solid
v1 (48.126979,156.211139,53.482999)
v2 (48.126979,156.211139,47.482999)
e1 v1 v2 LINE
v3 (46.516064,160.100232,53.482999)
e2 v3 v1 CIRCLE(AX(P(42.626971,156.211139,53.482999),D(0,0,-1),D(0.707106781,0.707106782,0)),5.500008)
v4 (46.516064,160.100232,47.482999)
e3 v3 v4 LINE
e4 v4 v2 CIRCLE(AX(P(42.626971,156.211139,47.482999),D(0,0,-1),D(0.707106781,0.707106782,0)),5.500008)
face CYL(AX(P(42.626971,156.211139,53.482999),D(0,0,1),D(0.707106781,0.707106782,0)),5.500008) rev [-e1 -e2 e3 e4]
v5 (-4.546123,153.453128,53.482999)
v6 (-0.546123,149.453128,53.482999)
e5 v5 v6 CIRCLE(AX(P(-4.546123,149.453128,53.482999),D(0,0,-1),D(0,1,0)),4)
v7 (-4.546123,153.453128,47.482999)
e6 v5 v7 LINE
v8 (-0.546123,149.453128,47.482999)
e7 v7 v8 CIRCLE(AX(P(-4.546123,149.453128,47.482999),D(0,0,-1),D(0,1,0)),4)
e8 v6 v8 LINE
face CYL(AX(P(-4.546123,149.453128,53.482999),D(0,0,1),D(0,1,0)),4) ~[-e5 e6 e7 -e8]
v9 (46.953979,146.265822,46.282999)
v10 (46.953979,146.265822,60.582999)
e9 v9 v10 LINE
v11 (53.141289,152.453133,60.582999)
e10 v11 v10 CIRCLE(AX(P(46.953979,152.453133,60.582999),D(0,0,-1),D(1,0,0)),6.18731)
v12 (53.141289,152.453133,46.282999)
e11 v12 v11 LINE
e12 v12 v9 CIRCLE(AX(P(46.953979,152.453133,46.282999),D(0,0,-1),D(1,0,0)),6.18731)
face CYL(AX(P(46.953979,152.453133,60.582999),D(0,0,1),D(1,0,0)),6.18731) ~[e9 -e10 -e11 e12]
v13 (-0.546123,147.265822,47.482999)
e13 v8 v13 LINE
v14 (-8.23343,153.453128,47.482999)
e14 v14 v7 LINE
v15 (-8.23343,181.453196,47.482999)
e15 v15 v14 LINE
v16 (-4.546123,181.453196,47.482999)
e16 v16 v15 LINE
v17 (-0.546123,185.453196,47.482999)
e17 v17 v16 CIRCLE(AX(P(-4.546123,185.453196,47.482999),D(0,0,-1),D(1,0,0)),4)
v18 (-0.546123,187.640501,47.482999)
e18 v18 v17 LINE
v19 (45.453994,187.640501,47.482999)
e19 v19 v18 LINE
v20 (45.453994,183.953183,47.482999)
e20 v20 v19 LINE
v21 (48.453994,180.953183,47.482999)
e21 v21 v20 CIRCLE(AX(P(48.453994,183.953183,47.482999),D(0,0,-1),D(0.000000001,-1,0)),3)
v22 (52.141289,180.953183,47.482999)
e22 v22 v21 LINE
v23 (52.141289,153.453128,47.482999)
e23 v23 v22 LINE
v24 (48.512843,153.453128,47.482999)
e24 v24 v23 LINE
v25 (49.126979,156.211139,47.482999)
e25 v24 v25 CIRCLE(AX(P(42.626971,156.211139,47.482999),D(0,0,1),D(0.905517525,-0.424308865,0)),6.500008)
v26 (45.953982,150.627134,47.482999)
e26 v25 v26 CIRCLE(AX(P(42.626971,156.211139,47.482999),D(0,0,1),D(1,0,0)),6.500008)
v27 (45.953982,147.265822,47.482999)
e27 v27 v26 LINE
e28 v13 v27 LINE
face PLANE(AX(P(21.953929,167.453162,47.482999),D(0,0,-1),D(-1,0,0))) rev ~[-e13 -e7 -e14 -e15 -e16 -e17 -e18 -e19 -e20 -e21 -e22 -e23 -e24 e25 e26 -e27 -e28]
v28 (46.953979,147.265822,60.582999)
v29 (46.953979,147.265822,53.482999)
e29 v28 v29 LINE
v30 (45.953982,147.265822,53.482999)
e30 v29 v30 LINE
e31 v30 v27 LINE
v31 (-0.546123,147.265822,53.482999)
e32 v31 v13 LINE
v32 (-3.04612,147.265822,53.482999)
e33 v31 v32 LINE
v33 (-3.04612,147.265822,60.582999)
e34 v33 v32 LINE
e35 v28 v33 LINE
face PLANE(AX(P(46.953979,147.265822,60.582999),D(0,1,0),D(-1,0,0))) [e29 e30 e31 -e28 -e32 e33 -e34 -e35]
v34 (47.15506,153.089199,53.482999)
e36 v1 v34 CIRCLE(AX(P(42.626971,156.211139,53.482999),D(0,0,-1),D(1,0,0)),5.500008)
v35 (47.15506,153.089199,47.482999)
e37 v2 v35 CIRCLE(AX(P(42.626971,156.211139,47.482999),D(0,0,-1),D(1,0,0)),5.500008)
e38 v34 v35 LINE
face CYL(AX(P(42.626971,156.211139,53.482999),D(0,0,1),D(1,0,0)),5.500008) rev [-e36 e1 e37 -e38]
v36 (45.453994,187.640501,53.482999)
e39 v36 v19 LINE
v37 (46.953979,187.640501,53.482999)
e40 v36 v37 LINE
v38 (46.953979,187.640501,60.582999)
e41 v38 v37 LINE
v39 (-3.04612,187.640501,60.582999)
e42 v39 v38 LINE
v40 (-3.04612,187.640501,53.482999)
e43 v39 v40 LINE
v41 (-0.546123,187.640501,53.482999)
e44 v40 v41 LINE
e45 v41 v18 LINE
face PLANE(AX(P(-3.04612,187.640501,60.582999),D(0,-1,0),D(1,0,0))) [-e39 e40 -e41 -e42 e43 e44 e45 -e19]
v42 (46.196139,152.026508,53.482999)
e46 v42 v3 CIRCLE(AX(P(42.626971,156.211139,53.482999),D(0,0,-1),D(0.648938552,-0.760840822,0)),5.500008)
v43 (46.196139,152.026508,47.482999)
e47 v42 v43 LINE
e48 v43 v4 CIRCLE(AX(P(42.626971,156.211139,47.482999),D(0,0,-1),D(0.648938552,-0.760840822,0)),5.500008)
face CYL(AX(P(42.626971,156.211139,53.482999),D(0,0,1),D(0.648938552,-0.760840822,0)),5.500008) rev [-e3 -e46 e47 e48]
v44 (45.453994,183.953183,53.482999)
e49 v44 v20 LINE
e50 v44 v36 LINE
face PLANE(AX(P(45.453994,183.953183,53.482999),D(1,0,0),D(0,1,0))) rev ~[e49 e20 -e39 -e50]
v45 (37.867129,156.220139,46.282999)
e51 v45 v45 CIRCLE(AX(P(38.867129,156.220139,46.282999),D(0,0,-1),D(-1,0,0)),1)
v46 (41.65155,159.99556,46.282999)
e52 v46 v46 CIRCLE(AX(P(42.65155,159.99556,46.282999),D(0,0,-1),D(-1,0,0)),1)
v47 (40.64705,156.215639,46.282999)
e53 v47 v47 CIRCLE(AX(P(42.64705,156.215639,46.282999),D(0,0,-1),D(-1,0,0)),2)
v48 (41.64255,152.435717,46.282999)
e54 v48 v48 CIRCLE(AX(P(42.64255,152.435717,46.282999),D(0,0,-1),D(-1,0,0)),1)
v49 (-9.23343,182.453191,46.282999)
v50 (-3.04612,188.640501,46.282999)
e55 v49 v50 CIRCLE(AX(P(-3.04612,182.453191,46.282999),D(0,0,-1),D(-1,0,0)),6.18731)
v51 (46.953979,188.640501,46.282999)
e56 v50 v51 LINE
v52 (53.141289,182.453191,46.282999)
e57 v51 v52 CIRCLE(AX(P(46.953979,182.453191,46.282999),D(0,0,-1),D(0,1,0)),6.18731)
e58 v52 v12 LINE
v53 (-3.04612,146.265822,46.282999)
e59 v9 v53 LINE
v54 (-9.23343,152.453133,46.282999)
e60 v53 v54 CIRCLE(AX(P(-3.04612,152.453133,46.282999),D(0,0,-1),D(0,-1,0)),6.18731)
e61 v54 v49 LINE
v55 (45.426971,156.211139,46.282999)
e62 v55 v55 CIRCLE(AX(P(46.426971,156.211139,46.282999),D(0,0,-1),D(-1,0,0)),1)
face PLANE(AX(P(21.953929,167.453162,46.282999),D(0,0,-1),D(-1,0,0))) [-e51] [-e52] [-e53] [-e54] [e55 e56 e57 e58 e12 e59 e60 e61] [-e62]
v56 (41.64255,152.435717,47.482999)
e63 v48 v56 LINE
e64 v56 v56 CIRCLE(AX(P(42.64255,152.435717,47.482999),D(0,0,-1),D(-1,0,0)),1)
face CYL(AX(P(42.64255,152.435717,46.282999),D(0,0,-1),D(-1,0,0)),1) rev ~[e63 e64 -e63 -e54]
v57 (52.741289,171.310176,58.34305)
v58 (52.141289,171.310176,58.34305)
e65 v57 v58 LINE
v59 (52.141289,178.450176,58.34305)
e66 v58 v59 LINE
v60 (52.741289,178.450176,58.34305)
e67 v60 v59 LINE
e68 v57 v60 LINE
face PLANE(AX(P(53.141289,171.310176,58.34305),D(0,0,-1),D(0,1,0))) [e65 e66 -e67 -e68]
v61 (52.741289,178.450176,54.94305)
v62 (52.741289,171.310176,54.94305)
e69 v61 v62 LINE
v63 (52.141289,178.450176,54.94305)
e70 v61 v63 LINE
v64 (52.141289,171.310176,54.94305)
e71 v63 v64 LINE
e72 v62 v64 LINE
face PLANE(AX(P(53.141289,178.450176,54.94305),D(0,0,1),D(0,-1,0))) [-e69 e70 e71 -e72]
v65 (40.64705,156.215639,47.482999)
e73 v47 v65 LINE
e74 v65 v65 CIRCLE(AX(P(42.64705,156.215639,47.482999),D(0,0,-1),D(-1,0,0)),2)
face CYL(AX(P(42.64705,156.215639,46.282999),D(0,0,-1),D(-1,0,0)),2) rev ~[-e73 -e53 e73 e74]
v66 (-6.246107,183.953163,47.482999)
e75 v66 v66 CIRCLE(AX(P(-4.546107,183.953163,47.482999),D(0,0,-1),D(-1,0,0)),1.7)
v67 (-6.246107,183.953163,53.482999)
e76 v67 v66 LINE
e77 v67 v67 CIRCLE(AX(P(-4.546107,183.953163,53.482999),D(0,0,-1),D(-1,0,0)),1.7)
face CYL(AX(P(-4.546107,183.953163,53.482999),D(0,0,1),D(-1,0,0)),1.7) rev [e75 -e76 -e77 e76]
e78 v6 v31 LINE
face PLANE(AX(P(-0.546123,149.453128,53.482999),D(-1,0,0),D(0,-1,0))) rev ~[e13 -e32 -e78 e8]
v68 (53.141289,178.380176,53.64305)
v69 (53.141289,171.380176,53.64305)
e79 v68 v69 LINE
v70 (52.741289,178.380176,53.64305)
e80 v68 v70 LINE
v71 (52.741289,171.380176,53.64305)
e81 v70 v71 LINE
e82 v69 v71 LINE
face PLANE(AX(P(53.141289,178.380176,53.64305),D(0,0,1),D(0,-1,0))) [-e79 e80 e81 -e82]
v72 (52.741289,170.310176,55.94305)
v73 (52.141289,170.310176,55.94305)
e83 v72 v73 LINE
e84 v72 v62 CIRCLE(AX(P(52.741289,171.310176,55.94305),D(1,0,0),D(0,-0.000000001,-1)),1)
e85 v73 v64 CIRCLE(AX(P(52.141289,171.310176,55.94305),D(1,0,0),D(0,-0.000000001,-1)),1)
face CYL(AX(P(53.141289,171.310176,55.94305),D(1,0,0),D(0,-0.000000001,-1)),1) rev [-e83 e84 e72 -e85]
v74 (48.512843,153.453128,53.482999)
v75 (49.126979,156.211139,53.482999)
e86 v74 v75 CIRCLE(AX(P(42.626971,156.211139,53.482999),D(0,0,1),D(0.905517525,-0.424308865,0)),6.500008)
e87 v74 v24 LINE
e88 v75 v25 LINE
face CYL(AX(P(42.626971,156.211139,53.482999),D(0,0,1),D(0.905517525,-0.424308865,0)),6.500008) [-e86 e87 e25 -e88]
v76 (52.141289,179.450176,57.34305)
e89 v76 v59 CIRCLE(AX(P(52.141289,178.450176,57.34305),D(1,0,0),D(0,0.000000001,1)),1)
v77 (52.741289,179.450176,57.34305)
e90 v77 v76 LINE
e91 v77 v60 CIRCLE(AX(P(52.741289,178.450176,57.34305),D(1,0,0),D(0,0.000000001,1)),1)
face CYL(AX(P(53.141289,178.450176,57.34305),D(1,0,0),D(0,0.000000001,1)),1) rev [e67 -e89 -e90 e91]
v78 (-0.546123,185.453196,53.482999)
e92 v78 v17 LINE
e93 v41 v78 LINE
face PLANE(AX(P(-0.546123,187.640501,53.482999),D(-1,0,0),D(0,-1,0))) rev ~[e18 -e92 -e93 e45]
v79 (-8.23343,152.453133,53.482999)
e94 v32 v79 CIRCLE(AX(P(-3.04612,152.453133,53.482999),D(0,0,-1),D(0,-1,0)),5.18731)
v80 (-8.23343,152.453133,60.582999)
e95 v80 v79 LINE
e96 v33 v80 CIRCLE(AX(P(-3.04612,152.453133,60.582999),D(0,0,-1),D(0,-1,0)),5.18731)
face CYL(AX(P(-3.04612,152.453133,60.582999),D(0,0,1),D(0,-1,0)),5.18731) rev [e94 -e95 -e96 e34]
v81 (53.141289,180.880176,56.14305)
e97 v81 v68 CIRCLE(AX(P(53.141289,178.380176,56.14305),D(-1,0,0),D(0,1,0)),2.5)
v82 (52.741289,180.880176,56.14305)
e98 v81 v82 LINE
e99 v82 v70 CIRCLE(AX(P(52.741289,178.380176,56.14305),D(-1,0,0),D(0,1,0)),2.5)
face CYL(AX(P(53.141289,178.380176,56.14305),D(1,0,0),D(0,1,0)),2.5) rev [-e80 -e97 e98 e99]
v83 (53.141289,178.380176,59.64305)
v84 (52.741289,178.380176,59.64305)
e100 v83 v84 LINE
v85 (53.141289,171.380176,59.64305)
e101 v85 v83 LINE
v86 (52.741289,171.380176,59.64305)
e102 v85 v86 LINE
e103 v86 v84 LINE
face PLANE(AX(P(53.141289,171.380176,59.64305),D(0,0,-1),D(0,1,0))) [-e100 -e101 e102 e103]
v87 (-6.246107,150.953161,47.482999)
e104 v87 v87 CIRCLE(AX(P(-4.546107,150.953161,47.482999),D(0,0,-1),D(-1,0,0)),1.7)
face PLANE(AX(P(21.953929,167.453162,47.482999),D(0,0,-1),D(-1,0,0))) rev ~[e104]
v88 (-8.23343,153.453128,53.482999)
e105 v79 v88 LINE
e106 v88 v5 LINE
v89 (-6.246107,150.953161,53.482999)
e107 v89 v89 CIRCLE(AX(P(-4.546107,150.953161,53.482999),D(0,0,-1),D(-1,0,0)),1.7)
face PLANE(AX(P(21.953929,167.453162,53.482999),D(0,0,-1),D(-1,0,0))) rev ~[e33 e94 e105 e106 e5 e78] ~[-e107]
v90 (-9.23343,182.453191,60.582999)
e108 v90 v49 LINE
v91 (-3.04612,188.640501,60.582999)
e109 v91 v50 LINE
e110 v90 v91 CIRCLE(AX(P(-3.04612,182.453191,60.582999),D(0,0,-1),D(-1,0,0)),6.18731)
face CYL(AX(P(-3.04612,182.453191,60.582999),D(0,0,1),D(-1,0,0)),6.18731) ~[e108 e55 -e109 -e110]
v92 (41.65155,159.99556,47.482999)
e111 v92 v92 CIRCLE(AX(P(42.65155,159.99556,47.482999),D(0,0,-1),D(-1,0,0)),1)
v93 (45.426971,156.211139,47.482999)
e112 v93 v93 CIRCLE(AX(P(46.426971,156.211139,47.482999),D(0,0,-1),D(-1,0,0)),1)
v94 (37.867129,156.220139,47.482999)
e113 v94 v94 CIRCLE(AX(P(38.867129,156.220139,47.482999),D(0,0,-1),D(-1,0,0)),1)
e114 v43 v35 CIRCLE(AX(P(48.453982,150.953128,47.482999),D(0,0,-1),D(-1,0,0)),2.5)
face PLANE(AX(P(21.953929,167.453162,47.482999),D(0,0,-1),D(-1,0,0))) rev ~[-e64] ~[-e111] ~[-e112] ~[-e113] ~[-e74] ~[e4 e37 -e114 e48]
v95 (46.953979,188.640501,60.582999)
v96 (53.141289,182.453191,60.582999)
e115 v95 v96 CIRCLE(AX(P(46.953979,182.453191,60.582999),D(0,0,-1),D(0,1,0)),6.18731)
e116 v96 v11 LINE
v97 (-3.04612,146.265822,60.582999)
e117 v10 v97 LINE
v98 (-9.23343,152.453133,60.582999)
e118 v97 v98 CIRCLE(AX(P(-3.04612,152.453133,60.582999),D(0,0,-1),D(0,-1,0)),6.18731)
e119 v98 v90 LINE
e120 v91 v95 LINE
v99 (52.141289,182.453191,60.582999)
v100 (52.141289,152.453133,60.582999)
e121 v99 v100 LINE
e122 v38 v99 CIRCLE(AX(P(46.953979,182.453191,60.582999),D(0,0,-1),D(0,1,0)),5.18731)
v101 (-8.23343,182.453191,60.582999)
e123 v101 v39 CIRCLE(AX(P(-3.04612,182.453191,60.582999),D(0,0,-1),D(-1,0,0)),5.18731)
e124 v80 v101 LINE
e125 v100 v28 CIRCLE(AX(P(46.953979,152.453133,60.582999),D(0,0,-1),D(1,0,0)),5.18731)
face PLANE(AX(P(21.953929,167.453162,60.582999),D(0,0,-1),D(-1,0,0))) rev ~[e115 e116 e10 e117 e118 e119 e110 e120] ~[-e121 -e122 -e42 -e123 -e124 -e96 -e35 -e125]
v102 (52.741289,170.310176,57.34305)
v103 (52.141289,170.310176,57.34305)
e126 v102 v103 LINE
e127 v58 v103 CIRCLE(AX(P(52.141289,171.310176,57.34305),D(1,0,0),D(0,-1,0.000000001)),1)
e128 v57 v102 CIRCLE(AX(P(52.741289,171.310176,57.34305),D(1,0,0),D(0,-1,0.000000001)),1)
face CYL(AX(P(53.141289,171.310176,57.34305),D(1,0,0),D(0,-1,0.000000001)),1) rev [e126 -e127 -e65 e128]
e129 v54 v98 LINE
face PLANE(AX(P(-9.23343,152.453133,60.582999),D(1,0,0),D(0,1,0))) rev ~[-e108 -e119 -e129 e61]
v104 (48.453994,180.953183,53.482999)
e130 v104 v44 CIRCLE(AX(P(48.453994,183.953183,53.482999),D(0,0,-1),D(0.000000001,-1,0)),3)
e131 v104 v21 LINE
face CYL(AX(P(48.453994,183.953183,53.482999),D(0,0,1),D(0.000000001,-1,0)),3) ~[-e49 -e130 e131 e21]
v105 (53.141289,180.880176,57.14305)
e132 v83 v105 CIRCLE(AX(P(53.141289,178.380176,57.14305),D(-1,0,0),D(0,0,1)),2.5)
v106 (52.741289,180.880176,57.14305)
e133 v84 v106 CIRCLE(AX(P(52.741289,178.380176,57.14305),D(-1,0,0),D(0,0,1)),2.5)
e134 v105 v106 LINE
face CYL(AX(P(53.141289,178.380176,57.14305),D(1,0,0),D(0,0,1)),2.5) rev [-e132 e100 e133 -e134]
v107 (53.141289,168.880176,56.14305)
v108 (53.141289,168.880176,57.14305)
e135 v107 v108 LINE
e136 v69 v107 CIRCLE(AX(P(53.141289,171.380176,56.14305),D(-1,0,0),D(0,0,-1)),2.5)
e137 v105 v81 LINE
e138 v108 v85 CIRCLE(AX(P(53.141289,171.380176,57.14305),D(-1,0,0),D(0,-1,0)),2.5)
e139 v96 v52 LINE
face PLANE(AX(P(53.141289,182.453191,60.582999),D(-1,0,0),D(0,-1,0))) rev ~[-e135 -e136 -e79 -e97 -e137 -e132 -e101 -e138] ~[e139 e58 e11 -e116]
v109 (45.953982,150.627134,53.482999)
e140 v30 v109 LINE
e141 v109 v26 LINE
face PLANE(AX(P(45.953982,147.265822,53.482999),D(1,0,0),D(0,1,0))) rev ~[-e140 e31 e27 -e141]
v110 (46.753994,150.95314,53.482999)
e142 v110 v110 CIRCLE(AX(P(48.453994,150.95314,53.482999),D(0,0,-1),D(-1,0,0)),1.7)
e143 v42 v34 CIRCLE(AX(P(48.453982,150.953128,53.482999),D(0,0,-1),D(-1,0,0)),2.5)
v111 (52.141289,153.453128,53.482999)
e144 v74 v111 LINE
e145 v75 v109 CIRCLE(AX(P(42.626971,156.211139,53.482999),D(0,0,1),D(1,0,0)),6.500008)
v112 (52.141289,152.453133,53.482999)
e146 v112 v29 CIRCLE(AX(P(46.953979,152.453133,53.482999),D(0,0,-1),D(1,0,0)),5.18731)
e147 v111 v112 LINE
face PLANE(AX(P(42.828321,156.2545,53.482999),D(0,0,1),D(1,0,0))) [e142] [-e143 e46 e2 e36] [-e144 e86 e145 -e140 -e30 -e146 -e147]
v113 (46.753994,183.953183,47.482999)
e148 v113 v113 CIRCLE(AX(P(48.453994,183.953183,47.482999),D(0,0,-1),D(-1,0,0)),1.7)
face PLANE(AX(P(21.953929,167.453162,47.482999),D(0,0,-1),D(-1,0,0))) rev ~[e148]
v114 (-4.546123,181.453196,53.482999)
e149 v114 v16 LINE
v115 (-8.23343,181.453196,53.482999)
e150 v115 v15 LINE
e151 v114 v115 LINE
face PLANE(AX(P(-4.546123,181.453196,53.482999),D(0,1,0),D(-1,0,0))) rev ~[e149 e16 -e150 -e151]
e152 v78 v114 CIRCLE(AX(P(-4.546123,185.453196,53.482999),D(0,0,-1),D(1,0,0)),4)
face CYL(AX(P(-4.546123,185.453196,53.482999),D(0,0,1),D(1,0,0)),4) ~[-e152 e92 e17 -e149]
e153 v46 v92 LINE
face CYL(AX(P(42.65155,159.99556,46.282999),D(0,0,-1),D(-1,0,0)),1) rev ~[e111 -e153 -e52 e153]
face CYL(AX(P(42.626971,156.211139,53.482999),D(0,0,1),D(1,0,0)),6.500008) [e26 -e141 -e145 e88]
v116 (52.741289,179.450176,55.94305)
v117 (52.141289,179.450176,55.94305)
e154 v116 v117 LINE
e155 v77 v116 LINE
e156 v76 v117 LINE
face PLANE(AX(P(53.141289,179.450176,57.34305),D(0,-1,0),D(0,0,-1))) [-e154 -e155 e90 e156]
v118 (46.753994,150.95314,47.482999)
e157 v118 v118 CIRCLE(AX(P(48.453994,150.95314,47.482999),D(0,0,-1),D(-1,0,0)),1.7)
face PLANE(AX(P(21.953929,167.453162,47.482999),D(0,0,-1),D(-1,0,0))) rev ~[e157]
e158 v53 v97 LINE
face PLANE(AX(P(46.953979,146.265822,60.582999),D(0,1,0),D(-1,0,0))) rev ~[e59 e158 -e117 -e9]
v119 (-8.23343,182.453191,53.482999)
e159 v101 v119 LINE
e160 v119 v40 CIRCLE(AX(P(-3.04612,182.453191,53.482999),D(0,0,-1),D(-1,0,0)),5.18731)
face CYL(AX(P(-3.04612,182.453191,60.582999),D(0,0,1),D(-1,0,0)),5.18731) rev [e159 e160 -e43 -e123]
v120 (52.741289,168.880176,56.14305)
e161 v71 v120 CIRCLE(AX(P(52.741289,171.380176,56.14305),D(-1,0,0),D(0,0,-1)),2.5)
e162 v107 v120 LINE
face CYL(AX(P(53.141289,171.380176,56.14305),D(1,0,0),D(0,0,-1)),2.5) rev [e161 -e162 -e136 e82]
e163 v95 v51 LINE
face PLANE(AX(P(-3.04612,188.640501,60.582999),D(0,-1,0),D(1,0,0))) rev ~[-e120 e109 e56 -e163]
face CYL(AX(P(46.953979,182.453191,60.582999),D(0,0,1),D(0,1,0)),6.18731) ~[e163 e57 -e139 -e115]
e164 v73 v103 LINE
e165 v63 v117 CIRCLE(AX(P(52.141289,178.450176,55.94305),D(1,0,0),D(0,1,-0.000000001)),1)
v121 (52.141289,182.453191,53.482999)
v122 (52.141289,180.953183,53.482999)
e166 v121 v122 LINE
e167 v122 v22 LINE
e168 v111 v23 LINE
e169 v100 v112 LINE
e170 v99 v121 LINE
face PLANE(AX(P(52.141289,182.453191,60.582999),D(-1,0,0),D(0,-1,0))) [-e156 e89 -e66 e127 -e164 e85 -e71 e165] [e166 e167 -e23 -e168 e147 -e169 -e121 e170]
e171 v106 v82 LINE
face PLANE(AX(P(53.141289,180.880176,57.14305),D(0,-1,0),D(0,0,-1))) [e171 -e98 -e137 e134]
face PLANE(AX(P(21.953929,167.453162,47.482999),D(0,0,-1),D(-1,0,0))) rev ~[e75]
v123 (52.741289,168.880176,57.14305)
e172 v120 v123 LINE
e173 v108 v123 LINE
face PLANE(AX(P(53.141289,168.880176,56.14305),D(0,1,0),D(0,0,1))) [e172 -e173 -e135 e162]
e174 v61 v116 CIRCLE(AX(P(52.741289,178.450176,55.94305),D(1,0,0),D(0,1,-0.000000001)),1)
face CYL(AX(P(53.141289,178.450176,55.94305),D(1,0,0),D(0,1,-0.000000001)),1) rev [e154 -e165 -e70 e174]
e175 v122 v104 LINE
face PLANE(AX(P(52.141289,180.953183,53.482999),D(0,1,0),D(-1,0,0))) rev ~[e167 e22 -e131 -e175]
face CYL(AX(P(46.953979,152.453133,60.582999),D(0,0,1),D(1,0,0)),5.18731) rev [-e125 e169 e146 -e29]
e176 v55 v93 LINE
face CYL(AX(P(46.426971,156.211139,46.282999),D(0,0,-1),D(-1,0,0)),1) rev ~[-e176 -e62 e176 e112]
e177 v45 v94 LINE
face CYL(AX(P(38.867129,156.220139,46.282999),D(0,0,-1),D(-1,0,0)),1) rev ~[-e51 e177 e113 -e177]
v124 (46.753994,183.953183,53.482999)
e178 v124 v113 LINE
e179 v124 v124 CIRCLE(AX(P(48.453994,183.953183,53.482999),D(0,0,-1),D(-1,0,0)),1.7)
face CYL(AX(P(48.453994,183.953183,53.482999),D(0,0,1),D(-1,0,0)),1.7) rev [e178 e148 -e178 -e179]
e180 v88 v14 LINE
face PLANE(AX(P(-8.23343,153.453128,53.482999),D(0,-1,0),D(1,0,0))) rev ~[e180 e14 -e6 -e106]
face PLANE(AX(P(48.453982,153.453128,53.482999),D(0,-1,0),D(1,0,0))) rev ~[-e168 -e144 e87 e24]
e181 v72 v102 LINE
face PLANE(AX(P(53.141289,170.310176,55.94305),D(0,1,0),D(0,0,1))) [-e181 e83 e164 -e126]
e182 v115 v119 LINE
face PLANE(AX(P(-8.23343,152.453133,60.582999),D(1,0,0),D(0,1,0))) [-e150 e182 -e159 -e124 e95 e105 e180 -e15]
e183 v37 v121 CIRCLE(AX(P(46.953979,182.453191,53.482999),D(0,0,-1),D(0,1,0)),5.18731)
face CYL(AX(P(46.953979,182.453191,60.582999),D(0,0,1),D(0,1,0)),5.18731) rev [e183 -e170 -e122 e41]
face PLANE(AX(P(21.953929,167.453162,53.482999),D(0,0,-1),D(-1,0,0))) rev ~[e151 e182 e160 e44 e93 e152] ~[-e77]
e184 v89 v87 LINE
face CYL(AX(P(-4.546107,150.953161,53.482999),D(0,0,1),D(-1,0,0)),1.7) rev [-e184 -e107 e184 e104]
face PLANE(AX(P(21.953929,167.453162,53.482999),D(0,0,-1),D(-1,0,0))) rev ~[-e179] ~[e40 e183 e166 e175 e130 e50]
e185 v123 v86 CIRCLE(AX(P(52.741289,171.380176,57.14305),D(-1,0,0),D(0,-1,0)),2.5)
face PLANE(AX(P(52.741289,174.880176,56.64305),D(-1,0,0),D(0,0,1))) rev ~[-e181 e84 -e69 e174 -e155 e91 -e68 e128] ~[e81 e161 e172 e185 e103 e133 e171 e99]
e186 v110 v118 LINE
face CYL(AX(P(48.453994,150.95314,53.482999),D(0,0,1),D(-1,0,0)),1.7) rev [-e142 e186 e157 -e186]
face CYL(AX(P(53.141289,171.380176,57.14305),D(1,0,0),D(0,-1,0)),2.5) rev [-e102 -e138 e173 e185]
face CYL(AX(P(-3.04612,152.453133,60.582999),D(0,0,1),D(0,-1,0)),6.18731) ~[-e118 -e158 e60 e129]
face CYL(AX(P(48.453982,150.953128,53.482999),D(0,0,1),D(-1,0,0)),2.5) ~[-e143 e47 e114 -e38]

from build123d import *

# Parameters (mm, degrees)
SKETCH_10_R         = 1.7
EXTRUDE_5_DEPTH     = 6
EXTRUDE_6_DEPTH     = 1.2
EXTRUDE_START       = -7.1
EXTRUDE_7_DEPTH     = 7.1
CUT_EXTRUDE_3_REACH = 209.716
CUT_EXTRUDE_4_DEPTH = 0.4
EXTRUDE_START_2     = 6
EXTRUDE_8_DEPTH     = 6
SKETCH_15_R         = 2
SKETCH_15_R_2       = 1
CUT_EXTRUDE_5_DEPTH = 1.2


with BuildPart() as part:
    # 草图10 → 凸台-拉伸5 (new body)
    with BuildSketch(Plane(origin=(0, 0, 53.48299881), x_dir=(-1, 0, 0), z_dir=(0, 0, -1))):
        with BuildLine():
            ThreePointArc((9.233430205, 182.453191023), (7.421209024, 186.828279976), (3.04612007, 188.640501158))
            Line((3.04612007, 188.640501158), (-46.95397899, 188.640501158))
            ThreePointArc((-46.95397899, 188.640501158), (-51.329067943, 186.828279976), (-53.141289124, 182.453191023))
            Line((-53.141289124, 182.453191023), (-53.141289124, 152.453132603))
            ThreePointArc((-53.141289124, 152.453132603), (-51.329067943, 148.078043649), (-46.95397899, 146.265822468))
            Line((-46.95397899, 146.265822468), (3.04612007, 146.265822468))
            ThreePointArc((3.04612007, 146.265822468), (7.421209024, 148.078043649), (9.233430205, 152.453132603))
            Line((9.233430205, 152.453132603), (9.233430205, 182.453191023))
        make_face()
        with BuildLine():
            ThreePointArc((0.54612261, 185.453196103), (1.717695486, 182.624768978), (4.54612261, 181.453196103))
            Line((4.54612261, 181.453196103), (8.233430205, 181.453196103))
            Line((8.233430205, 181.453196103), (8.233430205, 153.453127523))
            Line((8.233430205, 153.453127523), (4.54612261, 153.453127523))
            ThreePointArc((4.54612261, 153.453127523), (1.717695486, 152.281554648), (0.54612261, 149.453127523))
            Line((0.54612261, 149.453127523), (0.54612261, 147.265822468))
            Line((0.54612261, 147.265822468), (-45.95398153, 147.265822468))
            Line((-45.95398153, 147.265822468), (-45.95398153, 150.953127523))
            ThreePointArc((-45.95398153, 150.953127523), (-46.686214577, 152.720894476), (-48.45398153, 153.453127523))
            Line((-48.45398153, 153.453127523), (-52.141289124, 153.453127523))
            Line((-52.141289124, 153.453127523), (-52.141289124, 180.953183403))
            Line((-52.141289124, 180.953183403), (-48.45399423, 180.953183403))
            ThreePointArc((-48.45399423, 180.953183403), (-46.332673886, 181.831863059), (-45.45399423, 183.953183403))
            Line((-45.45399423, 183.953183403), (-45.45399423, 187.640501158))
            Line((-45.45399423, 187.640501158), (0.54612261, 187.640501158))
            Line((0.54612261, 187.640501158), (0.54612261, 185.453196103))
        make_face(mode=Mode.SUBTRACT)
        with Locations((4.54610737, 183.953163083)):
            Circle(SKETCH_10_R, mode=Mode.SUBTRACT)
        with Locations((-48.45399423, 183.953183403)):
            Circle(SKETCH_10_R, mode=Mode.SUBTRACT)
        with Locations((-48.45399423, 150.953140223)):
            Circle(SKETCH_10_R, mode=Mode.SUBTRACT)
        with Locations((4.54610737, 150.953160543)):
            Circle(SKETCH_10_R, mode=Mode.SUBTRACT)
    extrude(amount=EXTRUDE_5_DEPTH)

    # 草图11 → 凸台-拉伸6 (add)
    with BuildSketch(Plane(origin=(0, 0, 47.48299881), x_dir=(-1, 0, 0), z_dir=(0, 0, -1))):
        with BuildLine():
            Line((9.233430205, 152.453132603), (9.233430205, 182.453191023))
            ThreePointArc((9.233430205, 182.453191023), (7.421209024, 186.828279976), (3.04612007, 188.640501158))
            Line((3.04612007, 188.640501158), (-46.95397899, 188.640501158))
            ThreePointArc((-46.95397899, 188.640501158), (-51.329067943, 186.828279976), (-53.141289124, 182.453191023))
            Line((-53.141289124, 182.453191023), (-53.141289124, 152.453132603))
            ThreePointArc((-53.141289124, 152.453132603), (-51.329067943, 148.078043649), (-46.95397899, 146.265822468))
            Line((-46.95397899, 146.265822468), (3.04612007, 146.265822468))
            ThreePointArc((3.04612007, 146.265822468), (7.421209024, 148.078043649), (9.233430205, 152.453132603))
        make_face()
    extrude(amount=EXTRUDE_6_DEPTH)

    # 草图10<4> → 凸台-拉伸7 (add)
    with BuildSketch(Plane(origin=(0, 0, 53.48299881), x_dir=(-1, 0, 0), z_dir=(0, 0, -1)).offset(EXTRUDE_START)):
        with BuildLine():
            Line((9.233430205, 152.453132603), (9.233430205, 182.453191023))
            ThreePointArc((9.233430205, 182.453191023), (7.421209024, 186.828279976), (3.04612007, 188.640501158))
            Line((3.04612007, 188.640501158), (-46.95397899, 188.640501158))
            ThreePointArc((-46.95397899, 188.640501158), (-51.329067943, 186.828279976), (-53.141289124, 182.453191023))
            Line((-53.141289124, 182.453191023), (-53.141289124, 152.453132603))
            ThreePointArc((-53.141289124, 152.453132603), (-51.329067943, 148.078043649), (-46.95397899, 146.265822468))
            Line((-46.95397899, 146.265822468), (3.04612007, 146.265822468))
            ThreePointArc((3.04612007, 146.265822468), (7.421209024, 148.078043649), (9.233430205, 152.453132603))
        make_face()
        with BuildLine():
            ThreePointArc((8.233430205, 182.453191023), (6.714102243, 186.121173195), (3.04612007, 187.640501158))
            Line((3.04612007, 187.640501158), (-46.95397899, 187.640501158))
            ThreePointArc((-46.95397899, 187.640501158), (-50.621961162, 186.121173195), (-52.141289124, 182.453191023))
            Line((-52.141289124, 182.453191023), (-52.141289124, 152.453132603))
            ThreePointArc((-52.141289124, 152.453132603), (-50.621961162, 148.78515043), (-46.95397899, 147.265822468))
            Line((-46.95397899, 147.265822468), (3.04612007, 147.265822468))
            ThreePointArc((3.04612007, 147.265822468), (6.714102243, 148.78515043), (8.233430205, 152.453132603))
            Line((8.233430205, 152.453132603), (8.233430205, 182.453191023))
        make_face(mode=Mode.SUBTRACT)
    extrude(amount=EXTRUDE_7_DEPTH)

    # 草图12 → 切除-拉伸3 (cut, up to next)
    with BuildSketch(Plane(origin=(53.141289124, 0, 0), x_dir=(0, 0, -1), z_dir=(1, 0, 0)), mode=Mode.PRIVATE) as cut_extrude_3_sk1:
        with BuildLine():
            Line((-57.343049783, 179.450176225), (-55.943049648, 179.450176225))
            ThreePointArc((-55.943049648, 179.450176225), (-55.235942867, 179.157283006), (-54.943049648, 178.450176225))
            Line((-54.943049648, 178.450176225), (-54.943049648, 171.310175849))
            ThreePointArc((-54.943049648, 171.310175849), (-55.235942867, 170.603069068), (-55.943049648, 170.310175849))
            Line((-55.943049648, 170.310175849), (-57.343049783, 170.310175849))
            ThreePointArc((-57.343049783, 170.310175849), (-58.050156564, 170.603069068), (-58.343049783, 171.310175849))
            Line((-58.343049783, 171.310175849), (-58.343049783, 178.450176225))
            ThreePointArc((-58.343049783, 178.450176225), (-58.050156564, 179.157283006), (-57.343049783, 179.450176225))
        make_face()
    cut_extrude_3_tool1 = extrude(cut_extrude_3_sk1.sketch, amount=-CUT_EXTRUDE_3_REACH, mode=Mode.PRIVATE) & part.part
    add(cut_extrude_3_tool1.solids().sort_by_distance((53.141289, 174.880176, 56.64305))[0], mode=Mode.SUBTRACT)

    # 草图13 → 切除-拉伸4 (cut)
    with BuildSketch(Plane(origin=(53.141289124, 0, 0), x_dir=(0, 0, -1), z_dir=(1, 0, 0))):
        with BuildLine():
            Line((-57.143049715, 180.880176037), (-56.143049715, 180.880176037))
            ThreePointArc((-56.143049715, 180.880176037), (-54.375282762, 180.14794299), (-53.643049715, 178.380176037))
            Line((-53.643049715, 178.380176037), (-53.643049715, 171.380176037))
            ThreePointArc((-53.643049715, 171.380176037), (-54.375282762, 169.612409084), (-56.143049715, 168.880176037))
            Line((-56.143049715, 168.880176037), (-57.143049715, 168.880176037))
            ThreePointArc((-57.143049715, 168.880176037), (-58.910816668, 169.612409084), (-59.643049715, 171.380176037))
            Line((-59.643049715, 171.380176037), (-59.643049715, 178.380176037))
            ThreePointArc((-59.643049715, 178.380176037), (-58.910816668, 180.14794299), (-57.143049715, 180.880176037))
        make_face()
    extrude(amount=-CUT_EXTRUDE_4_DEPTH, mode=Mode.SUBTRACT)

    # 草图14 → 凸台-拉伸8 (add)
    with BuildSketch(Plane.XY.offset(47.48299881).offset(EXTRUDE_START_2)):
        with BuildLine():
            ThreePointArc((46.196138585, 152.026507807), (37.131275676, 156.428908647), (46.516064334, 160.100231917))
            ThreePointArc((46.516064334, 160.100231917), (47.708316282, 158.315900782), (48.12697949, 156.211138699))
            ThreePointArc((48.12697949, 156.211138699), (47.878381245, 154.576273637), (47.155059599, 153.089199108))
            ThreePointArc((47.155059599, 153.089199108), (47.779510983, 153.360426732), (48.45398153, 153.453127523))
            Line((48.45398153, 153.453127523), (48.512842608, 153.453127523))
            ThreePointArc((48.512842608, 153.453127523), (48.971587844, 154.79835866), (49.12697949, 156.211138699))
            ThreePointArc((49.12697949, 156.211138699), (36.975612676, 159.422408955), (45.95398153, 150.627133812))
            Line((45.95398153, 150.627133812), (45.95398153, 150.953127523))
            ThreePointArc((45.95398153, 150.953127523), (46.0152721, 151.503305965), (46.196138585, 152.026507807))
        make_face()
    extrude(amount=-EXTRUDE_8_DEPTH)

    # 草图15 → 切除-拉伸5 (cut)
    with BuildSketch(Plane(origin=(0, 0, 46.28299881), x_dir=(-1, 0, 0), z_dir=(0, 0, -1))):
        with Locations((-42.647049867, 156.215638701)):
            Circle(SKETCH_15_R)
        with Locations((-46.426971116, 156.211138699)):
            Circle(SKETCH_15_R_2)
        with Locations((-42.651549869, 159.995559949)):
            Circle(SKETCH_15_R_2)
        with Locations((-38.867128618, 156.220138702)):
            Circle(SKETCH_15_R_2)
        with Locations((-42.642549865, 152.435717452)):
            Circle(SKETCH_15_R_2)
    extrude(amount=-CUT_EXTRUDE_5_DEPTH, mode=Mode.SUBTRACT)


solid = part.part
